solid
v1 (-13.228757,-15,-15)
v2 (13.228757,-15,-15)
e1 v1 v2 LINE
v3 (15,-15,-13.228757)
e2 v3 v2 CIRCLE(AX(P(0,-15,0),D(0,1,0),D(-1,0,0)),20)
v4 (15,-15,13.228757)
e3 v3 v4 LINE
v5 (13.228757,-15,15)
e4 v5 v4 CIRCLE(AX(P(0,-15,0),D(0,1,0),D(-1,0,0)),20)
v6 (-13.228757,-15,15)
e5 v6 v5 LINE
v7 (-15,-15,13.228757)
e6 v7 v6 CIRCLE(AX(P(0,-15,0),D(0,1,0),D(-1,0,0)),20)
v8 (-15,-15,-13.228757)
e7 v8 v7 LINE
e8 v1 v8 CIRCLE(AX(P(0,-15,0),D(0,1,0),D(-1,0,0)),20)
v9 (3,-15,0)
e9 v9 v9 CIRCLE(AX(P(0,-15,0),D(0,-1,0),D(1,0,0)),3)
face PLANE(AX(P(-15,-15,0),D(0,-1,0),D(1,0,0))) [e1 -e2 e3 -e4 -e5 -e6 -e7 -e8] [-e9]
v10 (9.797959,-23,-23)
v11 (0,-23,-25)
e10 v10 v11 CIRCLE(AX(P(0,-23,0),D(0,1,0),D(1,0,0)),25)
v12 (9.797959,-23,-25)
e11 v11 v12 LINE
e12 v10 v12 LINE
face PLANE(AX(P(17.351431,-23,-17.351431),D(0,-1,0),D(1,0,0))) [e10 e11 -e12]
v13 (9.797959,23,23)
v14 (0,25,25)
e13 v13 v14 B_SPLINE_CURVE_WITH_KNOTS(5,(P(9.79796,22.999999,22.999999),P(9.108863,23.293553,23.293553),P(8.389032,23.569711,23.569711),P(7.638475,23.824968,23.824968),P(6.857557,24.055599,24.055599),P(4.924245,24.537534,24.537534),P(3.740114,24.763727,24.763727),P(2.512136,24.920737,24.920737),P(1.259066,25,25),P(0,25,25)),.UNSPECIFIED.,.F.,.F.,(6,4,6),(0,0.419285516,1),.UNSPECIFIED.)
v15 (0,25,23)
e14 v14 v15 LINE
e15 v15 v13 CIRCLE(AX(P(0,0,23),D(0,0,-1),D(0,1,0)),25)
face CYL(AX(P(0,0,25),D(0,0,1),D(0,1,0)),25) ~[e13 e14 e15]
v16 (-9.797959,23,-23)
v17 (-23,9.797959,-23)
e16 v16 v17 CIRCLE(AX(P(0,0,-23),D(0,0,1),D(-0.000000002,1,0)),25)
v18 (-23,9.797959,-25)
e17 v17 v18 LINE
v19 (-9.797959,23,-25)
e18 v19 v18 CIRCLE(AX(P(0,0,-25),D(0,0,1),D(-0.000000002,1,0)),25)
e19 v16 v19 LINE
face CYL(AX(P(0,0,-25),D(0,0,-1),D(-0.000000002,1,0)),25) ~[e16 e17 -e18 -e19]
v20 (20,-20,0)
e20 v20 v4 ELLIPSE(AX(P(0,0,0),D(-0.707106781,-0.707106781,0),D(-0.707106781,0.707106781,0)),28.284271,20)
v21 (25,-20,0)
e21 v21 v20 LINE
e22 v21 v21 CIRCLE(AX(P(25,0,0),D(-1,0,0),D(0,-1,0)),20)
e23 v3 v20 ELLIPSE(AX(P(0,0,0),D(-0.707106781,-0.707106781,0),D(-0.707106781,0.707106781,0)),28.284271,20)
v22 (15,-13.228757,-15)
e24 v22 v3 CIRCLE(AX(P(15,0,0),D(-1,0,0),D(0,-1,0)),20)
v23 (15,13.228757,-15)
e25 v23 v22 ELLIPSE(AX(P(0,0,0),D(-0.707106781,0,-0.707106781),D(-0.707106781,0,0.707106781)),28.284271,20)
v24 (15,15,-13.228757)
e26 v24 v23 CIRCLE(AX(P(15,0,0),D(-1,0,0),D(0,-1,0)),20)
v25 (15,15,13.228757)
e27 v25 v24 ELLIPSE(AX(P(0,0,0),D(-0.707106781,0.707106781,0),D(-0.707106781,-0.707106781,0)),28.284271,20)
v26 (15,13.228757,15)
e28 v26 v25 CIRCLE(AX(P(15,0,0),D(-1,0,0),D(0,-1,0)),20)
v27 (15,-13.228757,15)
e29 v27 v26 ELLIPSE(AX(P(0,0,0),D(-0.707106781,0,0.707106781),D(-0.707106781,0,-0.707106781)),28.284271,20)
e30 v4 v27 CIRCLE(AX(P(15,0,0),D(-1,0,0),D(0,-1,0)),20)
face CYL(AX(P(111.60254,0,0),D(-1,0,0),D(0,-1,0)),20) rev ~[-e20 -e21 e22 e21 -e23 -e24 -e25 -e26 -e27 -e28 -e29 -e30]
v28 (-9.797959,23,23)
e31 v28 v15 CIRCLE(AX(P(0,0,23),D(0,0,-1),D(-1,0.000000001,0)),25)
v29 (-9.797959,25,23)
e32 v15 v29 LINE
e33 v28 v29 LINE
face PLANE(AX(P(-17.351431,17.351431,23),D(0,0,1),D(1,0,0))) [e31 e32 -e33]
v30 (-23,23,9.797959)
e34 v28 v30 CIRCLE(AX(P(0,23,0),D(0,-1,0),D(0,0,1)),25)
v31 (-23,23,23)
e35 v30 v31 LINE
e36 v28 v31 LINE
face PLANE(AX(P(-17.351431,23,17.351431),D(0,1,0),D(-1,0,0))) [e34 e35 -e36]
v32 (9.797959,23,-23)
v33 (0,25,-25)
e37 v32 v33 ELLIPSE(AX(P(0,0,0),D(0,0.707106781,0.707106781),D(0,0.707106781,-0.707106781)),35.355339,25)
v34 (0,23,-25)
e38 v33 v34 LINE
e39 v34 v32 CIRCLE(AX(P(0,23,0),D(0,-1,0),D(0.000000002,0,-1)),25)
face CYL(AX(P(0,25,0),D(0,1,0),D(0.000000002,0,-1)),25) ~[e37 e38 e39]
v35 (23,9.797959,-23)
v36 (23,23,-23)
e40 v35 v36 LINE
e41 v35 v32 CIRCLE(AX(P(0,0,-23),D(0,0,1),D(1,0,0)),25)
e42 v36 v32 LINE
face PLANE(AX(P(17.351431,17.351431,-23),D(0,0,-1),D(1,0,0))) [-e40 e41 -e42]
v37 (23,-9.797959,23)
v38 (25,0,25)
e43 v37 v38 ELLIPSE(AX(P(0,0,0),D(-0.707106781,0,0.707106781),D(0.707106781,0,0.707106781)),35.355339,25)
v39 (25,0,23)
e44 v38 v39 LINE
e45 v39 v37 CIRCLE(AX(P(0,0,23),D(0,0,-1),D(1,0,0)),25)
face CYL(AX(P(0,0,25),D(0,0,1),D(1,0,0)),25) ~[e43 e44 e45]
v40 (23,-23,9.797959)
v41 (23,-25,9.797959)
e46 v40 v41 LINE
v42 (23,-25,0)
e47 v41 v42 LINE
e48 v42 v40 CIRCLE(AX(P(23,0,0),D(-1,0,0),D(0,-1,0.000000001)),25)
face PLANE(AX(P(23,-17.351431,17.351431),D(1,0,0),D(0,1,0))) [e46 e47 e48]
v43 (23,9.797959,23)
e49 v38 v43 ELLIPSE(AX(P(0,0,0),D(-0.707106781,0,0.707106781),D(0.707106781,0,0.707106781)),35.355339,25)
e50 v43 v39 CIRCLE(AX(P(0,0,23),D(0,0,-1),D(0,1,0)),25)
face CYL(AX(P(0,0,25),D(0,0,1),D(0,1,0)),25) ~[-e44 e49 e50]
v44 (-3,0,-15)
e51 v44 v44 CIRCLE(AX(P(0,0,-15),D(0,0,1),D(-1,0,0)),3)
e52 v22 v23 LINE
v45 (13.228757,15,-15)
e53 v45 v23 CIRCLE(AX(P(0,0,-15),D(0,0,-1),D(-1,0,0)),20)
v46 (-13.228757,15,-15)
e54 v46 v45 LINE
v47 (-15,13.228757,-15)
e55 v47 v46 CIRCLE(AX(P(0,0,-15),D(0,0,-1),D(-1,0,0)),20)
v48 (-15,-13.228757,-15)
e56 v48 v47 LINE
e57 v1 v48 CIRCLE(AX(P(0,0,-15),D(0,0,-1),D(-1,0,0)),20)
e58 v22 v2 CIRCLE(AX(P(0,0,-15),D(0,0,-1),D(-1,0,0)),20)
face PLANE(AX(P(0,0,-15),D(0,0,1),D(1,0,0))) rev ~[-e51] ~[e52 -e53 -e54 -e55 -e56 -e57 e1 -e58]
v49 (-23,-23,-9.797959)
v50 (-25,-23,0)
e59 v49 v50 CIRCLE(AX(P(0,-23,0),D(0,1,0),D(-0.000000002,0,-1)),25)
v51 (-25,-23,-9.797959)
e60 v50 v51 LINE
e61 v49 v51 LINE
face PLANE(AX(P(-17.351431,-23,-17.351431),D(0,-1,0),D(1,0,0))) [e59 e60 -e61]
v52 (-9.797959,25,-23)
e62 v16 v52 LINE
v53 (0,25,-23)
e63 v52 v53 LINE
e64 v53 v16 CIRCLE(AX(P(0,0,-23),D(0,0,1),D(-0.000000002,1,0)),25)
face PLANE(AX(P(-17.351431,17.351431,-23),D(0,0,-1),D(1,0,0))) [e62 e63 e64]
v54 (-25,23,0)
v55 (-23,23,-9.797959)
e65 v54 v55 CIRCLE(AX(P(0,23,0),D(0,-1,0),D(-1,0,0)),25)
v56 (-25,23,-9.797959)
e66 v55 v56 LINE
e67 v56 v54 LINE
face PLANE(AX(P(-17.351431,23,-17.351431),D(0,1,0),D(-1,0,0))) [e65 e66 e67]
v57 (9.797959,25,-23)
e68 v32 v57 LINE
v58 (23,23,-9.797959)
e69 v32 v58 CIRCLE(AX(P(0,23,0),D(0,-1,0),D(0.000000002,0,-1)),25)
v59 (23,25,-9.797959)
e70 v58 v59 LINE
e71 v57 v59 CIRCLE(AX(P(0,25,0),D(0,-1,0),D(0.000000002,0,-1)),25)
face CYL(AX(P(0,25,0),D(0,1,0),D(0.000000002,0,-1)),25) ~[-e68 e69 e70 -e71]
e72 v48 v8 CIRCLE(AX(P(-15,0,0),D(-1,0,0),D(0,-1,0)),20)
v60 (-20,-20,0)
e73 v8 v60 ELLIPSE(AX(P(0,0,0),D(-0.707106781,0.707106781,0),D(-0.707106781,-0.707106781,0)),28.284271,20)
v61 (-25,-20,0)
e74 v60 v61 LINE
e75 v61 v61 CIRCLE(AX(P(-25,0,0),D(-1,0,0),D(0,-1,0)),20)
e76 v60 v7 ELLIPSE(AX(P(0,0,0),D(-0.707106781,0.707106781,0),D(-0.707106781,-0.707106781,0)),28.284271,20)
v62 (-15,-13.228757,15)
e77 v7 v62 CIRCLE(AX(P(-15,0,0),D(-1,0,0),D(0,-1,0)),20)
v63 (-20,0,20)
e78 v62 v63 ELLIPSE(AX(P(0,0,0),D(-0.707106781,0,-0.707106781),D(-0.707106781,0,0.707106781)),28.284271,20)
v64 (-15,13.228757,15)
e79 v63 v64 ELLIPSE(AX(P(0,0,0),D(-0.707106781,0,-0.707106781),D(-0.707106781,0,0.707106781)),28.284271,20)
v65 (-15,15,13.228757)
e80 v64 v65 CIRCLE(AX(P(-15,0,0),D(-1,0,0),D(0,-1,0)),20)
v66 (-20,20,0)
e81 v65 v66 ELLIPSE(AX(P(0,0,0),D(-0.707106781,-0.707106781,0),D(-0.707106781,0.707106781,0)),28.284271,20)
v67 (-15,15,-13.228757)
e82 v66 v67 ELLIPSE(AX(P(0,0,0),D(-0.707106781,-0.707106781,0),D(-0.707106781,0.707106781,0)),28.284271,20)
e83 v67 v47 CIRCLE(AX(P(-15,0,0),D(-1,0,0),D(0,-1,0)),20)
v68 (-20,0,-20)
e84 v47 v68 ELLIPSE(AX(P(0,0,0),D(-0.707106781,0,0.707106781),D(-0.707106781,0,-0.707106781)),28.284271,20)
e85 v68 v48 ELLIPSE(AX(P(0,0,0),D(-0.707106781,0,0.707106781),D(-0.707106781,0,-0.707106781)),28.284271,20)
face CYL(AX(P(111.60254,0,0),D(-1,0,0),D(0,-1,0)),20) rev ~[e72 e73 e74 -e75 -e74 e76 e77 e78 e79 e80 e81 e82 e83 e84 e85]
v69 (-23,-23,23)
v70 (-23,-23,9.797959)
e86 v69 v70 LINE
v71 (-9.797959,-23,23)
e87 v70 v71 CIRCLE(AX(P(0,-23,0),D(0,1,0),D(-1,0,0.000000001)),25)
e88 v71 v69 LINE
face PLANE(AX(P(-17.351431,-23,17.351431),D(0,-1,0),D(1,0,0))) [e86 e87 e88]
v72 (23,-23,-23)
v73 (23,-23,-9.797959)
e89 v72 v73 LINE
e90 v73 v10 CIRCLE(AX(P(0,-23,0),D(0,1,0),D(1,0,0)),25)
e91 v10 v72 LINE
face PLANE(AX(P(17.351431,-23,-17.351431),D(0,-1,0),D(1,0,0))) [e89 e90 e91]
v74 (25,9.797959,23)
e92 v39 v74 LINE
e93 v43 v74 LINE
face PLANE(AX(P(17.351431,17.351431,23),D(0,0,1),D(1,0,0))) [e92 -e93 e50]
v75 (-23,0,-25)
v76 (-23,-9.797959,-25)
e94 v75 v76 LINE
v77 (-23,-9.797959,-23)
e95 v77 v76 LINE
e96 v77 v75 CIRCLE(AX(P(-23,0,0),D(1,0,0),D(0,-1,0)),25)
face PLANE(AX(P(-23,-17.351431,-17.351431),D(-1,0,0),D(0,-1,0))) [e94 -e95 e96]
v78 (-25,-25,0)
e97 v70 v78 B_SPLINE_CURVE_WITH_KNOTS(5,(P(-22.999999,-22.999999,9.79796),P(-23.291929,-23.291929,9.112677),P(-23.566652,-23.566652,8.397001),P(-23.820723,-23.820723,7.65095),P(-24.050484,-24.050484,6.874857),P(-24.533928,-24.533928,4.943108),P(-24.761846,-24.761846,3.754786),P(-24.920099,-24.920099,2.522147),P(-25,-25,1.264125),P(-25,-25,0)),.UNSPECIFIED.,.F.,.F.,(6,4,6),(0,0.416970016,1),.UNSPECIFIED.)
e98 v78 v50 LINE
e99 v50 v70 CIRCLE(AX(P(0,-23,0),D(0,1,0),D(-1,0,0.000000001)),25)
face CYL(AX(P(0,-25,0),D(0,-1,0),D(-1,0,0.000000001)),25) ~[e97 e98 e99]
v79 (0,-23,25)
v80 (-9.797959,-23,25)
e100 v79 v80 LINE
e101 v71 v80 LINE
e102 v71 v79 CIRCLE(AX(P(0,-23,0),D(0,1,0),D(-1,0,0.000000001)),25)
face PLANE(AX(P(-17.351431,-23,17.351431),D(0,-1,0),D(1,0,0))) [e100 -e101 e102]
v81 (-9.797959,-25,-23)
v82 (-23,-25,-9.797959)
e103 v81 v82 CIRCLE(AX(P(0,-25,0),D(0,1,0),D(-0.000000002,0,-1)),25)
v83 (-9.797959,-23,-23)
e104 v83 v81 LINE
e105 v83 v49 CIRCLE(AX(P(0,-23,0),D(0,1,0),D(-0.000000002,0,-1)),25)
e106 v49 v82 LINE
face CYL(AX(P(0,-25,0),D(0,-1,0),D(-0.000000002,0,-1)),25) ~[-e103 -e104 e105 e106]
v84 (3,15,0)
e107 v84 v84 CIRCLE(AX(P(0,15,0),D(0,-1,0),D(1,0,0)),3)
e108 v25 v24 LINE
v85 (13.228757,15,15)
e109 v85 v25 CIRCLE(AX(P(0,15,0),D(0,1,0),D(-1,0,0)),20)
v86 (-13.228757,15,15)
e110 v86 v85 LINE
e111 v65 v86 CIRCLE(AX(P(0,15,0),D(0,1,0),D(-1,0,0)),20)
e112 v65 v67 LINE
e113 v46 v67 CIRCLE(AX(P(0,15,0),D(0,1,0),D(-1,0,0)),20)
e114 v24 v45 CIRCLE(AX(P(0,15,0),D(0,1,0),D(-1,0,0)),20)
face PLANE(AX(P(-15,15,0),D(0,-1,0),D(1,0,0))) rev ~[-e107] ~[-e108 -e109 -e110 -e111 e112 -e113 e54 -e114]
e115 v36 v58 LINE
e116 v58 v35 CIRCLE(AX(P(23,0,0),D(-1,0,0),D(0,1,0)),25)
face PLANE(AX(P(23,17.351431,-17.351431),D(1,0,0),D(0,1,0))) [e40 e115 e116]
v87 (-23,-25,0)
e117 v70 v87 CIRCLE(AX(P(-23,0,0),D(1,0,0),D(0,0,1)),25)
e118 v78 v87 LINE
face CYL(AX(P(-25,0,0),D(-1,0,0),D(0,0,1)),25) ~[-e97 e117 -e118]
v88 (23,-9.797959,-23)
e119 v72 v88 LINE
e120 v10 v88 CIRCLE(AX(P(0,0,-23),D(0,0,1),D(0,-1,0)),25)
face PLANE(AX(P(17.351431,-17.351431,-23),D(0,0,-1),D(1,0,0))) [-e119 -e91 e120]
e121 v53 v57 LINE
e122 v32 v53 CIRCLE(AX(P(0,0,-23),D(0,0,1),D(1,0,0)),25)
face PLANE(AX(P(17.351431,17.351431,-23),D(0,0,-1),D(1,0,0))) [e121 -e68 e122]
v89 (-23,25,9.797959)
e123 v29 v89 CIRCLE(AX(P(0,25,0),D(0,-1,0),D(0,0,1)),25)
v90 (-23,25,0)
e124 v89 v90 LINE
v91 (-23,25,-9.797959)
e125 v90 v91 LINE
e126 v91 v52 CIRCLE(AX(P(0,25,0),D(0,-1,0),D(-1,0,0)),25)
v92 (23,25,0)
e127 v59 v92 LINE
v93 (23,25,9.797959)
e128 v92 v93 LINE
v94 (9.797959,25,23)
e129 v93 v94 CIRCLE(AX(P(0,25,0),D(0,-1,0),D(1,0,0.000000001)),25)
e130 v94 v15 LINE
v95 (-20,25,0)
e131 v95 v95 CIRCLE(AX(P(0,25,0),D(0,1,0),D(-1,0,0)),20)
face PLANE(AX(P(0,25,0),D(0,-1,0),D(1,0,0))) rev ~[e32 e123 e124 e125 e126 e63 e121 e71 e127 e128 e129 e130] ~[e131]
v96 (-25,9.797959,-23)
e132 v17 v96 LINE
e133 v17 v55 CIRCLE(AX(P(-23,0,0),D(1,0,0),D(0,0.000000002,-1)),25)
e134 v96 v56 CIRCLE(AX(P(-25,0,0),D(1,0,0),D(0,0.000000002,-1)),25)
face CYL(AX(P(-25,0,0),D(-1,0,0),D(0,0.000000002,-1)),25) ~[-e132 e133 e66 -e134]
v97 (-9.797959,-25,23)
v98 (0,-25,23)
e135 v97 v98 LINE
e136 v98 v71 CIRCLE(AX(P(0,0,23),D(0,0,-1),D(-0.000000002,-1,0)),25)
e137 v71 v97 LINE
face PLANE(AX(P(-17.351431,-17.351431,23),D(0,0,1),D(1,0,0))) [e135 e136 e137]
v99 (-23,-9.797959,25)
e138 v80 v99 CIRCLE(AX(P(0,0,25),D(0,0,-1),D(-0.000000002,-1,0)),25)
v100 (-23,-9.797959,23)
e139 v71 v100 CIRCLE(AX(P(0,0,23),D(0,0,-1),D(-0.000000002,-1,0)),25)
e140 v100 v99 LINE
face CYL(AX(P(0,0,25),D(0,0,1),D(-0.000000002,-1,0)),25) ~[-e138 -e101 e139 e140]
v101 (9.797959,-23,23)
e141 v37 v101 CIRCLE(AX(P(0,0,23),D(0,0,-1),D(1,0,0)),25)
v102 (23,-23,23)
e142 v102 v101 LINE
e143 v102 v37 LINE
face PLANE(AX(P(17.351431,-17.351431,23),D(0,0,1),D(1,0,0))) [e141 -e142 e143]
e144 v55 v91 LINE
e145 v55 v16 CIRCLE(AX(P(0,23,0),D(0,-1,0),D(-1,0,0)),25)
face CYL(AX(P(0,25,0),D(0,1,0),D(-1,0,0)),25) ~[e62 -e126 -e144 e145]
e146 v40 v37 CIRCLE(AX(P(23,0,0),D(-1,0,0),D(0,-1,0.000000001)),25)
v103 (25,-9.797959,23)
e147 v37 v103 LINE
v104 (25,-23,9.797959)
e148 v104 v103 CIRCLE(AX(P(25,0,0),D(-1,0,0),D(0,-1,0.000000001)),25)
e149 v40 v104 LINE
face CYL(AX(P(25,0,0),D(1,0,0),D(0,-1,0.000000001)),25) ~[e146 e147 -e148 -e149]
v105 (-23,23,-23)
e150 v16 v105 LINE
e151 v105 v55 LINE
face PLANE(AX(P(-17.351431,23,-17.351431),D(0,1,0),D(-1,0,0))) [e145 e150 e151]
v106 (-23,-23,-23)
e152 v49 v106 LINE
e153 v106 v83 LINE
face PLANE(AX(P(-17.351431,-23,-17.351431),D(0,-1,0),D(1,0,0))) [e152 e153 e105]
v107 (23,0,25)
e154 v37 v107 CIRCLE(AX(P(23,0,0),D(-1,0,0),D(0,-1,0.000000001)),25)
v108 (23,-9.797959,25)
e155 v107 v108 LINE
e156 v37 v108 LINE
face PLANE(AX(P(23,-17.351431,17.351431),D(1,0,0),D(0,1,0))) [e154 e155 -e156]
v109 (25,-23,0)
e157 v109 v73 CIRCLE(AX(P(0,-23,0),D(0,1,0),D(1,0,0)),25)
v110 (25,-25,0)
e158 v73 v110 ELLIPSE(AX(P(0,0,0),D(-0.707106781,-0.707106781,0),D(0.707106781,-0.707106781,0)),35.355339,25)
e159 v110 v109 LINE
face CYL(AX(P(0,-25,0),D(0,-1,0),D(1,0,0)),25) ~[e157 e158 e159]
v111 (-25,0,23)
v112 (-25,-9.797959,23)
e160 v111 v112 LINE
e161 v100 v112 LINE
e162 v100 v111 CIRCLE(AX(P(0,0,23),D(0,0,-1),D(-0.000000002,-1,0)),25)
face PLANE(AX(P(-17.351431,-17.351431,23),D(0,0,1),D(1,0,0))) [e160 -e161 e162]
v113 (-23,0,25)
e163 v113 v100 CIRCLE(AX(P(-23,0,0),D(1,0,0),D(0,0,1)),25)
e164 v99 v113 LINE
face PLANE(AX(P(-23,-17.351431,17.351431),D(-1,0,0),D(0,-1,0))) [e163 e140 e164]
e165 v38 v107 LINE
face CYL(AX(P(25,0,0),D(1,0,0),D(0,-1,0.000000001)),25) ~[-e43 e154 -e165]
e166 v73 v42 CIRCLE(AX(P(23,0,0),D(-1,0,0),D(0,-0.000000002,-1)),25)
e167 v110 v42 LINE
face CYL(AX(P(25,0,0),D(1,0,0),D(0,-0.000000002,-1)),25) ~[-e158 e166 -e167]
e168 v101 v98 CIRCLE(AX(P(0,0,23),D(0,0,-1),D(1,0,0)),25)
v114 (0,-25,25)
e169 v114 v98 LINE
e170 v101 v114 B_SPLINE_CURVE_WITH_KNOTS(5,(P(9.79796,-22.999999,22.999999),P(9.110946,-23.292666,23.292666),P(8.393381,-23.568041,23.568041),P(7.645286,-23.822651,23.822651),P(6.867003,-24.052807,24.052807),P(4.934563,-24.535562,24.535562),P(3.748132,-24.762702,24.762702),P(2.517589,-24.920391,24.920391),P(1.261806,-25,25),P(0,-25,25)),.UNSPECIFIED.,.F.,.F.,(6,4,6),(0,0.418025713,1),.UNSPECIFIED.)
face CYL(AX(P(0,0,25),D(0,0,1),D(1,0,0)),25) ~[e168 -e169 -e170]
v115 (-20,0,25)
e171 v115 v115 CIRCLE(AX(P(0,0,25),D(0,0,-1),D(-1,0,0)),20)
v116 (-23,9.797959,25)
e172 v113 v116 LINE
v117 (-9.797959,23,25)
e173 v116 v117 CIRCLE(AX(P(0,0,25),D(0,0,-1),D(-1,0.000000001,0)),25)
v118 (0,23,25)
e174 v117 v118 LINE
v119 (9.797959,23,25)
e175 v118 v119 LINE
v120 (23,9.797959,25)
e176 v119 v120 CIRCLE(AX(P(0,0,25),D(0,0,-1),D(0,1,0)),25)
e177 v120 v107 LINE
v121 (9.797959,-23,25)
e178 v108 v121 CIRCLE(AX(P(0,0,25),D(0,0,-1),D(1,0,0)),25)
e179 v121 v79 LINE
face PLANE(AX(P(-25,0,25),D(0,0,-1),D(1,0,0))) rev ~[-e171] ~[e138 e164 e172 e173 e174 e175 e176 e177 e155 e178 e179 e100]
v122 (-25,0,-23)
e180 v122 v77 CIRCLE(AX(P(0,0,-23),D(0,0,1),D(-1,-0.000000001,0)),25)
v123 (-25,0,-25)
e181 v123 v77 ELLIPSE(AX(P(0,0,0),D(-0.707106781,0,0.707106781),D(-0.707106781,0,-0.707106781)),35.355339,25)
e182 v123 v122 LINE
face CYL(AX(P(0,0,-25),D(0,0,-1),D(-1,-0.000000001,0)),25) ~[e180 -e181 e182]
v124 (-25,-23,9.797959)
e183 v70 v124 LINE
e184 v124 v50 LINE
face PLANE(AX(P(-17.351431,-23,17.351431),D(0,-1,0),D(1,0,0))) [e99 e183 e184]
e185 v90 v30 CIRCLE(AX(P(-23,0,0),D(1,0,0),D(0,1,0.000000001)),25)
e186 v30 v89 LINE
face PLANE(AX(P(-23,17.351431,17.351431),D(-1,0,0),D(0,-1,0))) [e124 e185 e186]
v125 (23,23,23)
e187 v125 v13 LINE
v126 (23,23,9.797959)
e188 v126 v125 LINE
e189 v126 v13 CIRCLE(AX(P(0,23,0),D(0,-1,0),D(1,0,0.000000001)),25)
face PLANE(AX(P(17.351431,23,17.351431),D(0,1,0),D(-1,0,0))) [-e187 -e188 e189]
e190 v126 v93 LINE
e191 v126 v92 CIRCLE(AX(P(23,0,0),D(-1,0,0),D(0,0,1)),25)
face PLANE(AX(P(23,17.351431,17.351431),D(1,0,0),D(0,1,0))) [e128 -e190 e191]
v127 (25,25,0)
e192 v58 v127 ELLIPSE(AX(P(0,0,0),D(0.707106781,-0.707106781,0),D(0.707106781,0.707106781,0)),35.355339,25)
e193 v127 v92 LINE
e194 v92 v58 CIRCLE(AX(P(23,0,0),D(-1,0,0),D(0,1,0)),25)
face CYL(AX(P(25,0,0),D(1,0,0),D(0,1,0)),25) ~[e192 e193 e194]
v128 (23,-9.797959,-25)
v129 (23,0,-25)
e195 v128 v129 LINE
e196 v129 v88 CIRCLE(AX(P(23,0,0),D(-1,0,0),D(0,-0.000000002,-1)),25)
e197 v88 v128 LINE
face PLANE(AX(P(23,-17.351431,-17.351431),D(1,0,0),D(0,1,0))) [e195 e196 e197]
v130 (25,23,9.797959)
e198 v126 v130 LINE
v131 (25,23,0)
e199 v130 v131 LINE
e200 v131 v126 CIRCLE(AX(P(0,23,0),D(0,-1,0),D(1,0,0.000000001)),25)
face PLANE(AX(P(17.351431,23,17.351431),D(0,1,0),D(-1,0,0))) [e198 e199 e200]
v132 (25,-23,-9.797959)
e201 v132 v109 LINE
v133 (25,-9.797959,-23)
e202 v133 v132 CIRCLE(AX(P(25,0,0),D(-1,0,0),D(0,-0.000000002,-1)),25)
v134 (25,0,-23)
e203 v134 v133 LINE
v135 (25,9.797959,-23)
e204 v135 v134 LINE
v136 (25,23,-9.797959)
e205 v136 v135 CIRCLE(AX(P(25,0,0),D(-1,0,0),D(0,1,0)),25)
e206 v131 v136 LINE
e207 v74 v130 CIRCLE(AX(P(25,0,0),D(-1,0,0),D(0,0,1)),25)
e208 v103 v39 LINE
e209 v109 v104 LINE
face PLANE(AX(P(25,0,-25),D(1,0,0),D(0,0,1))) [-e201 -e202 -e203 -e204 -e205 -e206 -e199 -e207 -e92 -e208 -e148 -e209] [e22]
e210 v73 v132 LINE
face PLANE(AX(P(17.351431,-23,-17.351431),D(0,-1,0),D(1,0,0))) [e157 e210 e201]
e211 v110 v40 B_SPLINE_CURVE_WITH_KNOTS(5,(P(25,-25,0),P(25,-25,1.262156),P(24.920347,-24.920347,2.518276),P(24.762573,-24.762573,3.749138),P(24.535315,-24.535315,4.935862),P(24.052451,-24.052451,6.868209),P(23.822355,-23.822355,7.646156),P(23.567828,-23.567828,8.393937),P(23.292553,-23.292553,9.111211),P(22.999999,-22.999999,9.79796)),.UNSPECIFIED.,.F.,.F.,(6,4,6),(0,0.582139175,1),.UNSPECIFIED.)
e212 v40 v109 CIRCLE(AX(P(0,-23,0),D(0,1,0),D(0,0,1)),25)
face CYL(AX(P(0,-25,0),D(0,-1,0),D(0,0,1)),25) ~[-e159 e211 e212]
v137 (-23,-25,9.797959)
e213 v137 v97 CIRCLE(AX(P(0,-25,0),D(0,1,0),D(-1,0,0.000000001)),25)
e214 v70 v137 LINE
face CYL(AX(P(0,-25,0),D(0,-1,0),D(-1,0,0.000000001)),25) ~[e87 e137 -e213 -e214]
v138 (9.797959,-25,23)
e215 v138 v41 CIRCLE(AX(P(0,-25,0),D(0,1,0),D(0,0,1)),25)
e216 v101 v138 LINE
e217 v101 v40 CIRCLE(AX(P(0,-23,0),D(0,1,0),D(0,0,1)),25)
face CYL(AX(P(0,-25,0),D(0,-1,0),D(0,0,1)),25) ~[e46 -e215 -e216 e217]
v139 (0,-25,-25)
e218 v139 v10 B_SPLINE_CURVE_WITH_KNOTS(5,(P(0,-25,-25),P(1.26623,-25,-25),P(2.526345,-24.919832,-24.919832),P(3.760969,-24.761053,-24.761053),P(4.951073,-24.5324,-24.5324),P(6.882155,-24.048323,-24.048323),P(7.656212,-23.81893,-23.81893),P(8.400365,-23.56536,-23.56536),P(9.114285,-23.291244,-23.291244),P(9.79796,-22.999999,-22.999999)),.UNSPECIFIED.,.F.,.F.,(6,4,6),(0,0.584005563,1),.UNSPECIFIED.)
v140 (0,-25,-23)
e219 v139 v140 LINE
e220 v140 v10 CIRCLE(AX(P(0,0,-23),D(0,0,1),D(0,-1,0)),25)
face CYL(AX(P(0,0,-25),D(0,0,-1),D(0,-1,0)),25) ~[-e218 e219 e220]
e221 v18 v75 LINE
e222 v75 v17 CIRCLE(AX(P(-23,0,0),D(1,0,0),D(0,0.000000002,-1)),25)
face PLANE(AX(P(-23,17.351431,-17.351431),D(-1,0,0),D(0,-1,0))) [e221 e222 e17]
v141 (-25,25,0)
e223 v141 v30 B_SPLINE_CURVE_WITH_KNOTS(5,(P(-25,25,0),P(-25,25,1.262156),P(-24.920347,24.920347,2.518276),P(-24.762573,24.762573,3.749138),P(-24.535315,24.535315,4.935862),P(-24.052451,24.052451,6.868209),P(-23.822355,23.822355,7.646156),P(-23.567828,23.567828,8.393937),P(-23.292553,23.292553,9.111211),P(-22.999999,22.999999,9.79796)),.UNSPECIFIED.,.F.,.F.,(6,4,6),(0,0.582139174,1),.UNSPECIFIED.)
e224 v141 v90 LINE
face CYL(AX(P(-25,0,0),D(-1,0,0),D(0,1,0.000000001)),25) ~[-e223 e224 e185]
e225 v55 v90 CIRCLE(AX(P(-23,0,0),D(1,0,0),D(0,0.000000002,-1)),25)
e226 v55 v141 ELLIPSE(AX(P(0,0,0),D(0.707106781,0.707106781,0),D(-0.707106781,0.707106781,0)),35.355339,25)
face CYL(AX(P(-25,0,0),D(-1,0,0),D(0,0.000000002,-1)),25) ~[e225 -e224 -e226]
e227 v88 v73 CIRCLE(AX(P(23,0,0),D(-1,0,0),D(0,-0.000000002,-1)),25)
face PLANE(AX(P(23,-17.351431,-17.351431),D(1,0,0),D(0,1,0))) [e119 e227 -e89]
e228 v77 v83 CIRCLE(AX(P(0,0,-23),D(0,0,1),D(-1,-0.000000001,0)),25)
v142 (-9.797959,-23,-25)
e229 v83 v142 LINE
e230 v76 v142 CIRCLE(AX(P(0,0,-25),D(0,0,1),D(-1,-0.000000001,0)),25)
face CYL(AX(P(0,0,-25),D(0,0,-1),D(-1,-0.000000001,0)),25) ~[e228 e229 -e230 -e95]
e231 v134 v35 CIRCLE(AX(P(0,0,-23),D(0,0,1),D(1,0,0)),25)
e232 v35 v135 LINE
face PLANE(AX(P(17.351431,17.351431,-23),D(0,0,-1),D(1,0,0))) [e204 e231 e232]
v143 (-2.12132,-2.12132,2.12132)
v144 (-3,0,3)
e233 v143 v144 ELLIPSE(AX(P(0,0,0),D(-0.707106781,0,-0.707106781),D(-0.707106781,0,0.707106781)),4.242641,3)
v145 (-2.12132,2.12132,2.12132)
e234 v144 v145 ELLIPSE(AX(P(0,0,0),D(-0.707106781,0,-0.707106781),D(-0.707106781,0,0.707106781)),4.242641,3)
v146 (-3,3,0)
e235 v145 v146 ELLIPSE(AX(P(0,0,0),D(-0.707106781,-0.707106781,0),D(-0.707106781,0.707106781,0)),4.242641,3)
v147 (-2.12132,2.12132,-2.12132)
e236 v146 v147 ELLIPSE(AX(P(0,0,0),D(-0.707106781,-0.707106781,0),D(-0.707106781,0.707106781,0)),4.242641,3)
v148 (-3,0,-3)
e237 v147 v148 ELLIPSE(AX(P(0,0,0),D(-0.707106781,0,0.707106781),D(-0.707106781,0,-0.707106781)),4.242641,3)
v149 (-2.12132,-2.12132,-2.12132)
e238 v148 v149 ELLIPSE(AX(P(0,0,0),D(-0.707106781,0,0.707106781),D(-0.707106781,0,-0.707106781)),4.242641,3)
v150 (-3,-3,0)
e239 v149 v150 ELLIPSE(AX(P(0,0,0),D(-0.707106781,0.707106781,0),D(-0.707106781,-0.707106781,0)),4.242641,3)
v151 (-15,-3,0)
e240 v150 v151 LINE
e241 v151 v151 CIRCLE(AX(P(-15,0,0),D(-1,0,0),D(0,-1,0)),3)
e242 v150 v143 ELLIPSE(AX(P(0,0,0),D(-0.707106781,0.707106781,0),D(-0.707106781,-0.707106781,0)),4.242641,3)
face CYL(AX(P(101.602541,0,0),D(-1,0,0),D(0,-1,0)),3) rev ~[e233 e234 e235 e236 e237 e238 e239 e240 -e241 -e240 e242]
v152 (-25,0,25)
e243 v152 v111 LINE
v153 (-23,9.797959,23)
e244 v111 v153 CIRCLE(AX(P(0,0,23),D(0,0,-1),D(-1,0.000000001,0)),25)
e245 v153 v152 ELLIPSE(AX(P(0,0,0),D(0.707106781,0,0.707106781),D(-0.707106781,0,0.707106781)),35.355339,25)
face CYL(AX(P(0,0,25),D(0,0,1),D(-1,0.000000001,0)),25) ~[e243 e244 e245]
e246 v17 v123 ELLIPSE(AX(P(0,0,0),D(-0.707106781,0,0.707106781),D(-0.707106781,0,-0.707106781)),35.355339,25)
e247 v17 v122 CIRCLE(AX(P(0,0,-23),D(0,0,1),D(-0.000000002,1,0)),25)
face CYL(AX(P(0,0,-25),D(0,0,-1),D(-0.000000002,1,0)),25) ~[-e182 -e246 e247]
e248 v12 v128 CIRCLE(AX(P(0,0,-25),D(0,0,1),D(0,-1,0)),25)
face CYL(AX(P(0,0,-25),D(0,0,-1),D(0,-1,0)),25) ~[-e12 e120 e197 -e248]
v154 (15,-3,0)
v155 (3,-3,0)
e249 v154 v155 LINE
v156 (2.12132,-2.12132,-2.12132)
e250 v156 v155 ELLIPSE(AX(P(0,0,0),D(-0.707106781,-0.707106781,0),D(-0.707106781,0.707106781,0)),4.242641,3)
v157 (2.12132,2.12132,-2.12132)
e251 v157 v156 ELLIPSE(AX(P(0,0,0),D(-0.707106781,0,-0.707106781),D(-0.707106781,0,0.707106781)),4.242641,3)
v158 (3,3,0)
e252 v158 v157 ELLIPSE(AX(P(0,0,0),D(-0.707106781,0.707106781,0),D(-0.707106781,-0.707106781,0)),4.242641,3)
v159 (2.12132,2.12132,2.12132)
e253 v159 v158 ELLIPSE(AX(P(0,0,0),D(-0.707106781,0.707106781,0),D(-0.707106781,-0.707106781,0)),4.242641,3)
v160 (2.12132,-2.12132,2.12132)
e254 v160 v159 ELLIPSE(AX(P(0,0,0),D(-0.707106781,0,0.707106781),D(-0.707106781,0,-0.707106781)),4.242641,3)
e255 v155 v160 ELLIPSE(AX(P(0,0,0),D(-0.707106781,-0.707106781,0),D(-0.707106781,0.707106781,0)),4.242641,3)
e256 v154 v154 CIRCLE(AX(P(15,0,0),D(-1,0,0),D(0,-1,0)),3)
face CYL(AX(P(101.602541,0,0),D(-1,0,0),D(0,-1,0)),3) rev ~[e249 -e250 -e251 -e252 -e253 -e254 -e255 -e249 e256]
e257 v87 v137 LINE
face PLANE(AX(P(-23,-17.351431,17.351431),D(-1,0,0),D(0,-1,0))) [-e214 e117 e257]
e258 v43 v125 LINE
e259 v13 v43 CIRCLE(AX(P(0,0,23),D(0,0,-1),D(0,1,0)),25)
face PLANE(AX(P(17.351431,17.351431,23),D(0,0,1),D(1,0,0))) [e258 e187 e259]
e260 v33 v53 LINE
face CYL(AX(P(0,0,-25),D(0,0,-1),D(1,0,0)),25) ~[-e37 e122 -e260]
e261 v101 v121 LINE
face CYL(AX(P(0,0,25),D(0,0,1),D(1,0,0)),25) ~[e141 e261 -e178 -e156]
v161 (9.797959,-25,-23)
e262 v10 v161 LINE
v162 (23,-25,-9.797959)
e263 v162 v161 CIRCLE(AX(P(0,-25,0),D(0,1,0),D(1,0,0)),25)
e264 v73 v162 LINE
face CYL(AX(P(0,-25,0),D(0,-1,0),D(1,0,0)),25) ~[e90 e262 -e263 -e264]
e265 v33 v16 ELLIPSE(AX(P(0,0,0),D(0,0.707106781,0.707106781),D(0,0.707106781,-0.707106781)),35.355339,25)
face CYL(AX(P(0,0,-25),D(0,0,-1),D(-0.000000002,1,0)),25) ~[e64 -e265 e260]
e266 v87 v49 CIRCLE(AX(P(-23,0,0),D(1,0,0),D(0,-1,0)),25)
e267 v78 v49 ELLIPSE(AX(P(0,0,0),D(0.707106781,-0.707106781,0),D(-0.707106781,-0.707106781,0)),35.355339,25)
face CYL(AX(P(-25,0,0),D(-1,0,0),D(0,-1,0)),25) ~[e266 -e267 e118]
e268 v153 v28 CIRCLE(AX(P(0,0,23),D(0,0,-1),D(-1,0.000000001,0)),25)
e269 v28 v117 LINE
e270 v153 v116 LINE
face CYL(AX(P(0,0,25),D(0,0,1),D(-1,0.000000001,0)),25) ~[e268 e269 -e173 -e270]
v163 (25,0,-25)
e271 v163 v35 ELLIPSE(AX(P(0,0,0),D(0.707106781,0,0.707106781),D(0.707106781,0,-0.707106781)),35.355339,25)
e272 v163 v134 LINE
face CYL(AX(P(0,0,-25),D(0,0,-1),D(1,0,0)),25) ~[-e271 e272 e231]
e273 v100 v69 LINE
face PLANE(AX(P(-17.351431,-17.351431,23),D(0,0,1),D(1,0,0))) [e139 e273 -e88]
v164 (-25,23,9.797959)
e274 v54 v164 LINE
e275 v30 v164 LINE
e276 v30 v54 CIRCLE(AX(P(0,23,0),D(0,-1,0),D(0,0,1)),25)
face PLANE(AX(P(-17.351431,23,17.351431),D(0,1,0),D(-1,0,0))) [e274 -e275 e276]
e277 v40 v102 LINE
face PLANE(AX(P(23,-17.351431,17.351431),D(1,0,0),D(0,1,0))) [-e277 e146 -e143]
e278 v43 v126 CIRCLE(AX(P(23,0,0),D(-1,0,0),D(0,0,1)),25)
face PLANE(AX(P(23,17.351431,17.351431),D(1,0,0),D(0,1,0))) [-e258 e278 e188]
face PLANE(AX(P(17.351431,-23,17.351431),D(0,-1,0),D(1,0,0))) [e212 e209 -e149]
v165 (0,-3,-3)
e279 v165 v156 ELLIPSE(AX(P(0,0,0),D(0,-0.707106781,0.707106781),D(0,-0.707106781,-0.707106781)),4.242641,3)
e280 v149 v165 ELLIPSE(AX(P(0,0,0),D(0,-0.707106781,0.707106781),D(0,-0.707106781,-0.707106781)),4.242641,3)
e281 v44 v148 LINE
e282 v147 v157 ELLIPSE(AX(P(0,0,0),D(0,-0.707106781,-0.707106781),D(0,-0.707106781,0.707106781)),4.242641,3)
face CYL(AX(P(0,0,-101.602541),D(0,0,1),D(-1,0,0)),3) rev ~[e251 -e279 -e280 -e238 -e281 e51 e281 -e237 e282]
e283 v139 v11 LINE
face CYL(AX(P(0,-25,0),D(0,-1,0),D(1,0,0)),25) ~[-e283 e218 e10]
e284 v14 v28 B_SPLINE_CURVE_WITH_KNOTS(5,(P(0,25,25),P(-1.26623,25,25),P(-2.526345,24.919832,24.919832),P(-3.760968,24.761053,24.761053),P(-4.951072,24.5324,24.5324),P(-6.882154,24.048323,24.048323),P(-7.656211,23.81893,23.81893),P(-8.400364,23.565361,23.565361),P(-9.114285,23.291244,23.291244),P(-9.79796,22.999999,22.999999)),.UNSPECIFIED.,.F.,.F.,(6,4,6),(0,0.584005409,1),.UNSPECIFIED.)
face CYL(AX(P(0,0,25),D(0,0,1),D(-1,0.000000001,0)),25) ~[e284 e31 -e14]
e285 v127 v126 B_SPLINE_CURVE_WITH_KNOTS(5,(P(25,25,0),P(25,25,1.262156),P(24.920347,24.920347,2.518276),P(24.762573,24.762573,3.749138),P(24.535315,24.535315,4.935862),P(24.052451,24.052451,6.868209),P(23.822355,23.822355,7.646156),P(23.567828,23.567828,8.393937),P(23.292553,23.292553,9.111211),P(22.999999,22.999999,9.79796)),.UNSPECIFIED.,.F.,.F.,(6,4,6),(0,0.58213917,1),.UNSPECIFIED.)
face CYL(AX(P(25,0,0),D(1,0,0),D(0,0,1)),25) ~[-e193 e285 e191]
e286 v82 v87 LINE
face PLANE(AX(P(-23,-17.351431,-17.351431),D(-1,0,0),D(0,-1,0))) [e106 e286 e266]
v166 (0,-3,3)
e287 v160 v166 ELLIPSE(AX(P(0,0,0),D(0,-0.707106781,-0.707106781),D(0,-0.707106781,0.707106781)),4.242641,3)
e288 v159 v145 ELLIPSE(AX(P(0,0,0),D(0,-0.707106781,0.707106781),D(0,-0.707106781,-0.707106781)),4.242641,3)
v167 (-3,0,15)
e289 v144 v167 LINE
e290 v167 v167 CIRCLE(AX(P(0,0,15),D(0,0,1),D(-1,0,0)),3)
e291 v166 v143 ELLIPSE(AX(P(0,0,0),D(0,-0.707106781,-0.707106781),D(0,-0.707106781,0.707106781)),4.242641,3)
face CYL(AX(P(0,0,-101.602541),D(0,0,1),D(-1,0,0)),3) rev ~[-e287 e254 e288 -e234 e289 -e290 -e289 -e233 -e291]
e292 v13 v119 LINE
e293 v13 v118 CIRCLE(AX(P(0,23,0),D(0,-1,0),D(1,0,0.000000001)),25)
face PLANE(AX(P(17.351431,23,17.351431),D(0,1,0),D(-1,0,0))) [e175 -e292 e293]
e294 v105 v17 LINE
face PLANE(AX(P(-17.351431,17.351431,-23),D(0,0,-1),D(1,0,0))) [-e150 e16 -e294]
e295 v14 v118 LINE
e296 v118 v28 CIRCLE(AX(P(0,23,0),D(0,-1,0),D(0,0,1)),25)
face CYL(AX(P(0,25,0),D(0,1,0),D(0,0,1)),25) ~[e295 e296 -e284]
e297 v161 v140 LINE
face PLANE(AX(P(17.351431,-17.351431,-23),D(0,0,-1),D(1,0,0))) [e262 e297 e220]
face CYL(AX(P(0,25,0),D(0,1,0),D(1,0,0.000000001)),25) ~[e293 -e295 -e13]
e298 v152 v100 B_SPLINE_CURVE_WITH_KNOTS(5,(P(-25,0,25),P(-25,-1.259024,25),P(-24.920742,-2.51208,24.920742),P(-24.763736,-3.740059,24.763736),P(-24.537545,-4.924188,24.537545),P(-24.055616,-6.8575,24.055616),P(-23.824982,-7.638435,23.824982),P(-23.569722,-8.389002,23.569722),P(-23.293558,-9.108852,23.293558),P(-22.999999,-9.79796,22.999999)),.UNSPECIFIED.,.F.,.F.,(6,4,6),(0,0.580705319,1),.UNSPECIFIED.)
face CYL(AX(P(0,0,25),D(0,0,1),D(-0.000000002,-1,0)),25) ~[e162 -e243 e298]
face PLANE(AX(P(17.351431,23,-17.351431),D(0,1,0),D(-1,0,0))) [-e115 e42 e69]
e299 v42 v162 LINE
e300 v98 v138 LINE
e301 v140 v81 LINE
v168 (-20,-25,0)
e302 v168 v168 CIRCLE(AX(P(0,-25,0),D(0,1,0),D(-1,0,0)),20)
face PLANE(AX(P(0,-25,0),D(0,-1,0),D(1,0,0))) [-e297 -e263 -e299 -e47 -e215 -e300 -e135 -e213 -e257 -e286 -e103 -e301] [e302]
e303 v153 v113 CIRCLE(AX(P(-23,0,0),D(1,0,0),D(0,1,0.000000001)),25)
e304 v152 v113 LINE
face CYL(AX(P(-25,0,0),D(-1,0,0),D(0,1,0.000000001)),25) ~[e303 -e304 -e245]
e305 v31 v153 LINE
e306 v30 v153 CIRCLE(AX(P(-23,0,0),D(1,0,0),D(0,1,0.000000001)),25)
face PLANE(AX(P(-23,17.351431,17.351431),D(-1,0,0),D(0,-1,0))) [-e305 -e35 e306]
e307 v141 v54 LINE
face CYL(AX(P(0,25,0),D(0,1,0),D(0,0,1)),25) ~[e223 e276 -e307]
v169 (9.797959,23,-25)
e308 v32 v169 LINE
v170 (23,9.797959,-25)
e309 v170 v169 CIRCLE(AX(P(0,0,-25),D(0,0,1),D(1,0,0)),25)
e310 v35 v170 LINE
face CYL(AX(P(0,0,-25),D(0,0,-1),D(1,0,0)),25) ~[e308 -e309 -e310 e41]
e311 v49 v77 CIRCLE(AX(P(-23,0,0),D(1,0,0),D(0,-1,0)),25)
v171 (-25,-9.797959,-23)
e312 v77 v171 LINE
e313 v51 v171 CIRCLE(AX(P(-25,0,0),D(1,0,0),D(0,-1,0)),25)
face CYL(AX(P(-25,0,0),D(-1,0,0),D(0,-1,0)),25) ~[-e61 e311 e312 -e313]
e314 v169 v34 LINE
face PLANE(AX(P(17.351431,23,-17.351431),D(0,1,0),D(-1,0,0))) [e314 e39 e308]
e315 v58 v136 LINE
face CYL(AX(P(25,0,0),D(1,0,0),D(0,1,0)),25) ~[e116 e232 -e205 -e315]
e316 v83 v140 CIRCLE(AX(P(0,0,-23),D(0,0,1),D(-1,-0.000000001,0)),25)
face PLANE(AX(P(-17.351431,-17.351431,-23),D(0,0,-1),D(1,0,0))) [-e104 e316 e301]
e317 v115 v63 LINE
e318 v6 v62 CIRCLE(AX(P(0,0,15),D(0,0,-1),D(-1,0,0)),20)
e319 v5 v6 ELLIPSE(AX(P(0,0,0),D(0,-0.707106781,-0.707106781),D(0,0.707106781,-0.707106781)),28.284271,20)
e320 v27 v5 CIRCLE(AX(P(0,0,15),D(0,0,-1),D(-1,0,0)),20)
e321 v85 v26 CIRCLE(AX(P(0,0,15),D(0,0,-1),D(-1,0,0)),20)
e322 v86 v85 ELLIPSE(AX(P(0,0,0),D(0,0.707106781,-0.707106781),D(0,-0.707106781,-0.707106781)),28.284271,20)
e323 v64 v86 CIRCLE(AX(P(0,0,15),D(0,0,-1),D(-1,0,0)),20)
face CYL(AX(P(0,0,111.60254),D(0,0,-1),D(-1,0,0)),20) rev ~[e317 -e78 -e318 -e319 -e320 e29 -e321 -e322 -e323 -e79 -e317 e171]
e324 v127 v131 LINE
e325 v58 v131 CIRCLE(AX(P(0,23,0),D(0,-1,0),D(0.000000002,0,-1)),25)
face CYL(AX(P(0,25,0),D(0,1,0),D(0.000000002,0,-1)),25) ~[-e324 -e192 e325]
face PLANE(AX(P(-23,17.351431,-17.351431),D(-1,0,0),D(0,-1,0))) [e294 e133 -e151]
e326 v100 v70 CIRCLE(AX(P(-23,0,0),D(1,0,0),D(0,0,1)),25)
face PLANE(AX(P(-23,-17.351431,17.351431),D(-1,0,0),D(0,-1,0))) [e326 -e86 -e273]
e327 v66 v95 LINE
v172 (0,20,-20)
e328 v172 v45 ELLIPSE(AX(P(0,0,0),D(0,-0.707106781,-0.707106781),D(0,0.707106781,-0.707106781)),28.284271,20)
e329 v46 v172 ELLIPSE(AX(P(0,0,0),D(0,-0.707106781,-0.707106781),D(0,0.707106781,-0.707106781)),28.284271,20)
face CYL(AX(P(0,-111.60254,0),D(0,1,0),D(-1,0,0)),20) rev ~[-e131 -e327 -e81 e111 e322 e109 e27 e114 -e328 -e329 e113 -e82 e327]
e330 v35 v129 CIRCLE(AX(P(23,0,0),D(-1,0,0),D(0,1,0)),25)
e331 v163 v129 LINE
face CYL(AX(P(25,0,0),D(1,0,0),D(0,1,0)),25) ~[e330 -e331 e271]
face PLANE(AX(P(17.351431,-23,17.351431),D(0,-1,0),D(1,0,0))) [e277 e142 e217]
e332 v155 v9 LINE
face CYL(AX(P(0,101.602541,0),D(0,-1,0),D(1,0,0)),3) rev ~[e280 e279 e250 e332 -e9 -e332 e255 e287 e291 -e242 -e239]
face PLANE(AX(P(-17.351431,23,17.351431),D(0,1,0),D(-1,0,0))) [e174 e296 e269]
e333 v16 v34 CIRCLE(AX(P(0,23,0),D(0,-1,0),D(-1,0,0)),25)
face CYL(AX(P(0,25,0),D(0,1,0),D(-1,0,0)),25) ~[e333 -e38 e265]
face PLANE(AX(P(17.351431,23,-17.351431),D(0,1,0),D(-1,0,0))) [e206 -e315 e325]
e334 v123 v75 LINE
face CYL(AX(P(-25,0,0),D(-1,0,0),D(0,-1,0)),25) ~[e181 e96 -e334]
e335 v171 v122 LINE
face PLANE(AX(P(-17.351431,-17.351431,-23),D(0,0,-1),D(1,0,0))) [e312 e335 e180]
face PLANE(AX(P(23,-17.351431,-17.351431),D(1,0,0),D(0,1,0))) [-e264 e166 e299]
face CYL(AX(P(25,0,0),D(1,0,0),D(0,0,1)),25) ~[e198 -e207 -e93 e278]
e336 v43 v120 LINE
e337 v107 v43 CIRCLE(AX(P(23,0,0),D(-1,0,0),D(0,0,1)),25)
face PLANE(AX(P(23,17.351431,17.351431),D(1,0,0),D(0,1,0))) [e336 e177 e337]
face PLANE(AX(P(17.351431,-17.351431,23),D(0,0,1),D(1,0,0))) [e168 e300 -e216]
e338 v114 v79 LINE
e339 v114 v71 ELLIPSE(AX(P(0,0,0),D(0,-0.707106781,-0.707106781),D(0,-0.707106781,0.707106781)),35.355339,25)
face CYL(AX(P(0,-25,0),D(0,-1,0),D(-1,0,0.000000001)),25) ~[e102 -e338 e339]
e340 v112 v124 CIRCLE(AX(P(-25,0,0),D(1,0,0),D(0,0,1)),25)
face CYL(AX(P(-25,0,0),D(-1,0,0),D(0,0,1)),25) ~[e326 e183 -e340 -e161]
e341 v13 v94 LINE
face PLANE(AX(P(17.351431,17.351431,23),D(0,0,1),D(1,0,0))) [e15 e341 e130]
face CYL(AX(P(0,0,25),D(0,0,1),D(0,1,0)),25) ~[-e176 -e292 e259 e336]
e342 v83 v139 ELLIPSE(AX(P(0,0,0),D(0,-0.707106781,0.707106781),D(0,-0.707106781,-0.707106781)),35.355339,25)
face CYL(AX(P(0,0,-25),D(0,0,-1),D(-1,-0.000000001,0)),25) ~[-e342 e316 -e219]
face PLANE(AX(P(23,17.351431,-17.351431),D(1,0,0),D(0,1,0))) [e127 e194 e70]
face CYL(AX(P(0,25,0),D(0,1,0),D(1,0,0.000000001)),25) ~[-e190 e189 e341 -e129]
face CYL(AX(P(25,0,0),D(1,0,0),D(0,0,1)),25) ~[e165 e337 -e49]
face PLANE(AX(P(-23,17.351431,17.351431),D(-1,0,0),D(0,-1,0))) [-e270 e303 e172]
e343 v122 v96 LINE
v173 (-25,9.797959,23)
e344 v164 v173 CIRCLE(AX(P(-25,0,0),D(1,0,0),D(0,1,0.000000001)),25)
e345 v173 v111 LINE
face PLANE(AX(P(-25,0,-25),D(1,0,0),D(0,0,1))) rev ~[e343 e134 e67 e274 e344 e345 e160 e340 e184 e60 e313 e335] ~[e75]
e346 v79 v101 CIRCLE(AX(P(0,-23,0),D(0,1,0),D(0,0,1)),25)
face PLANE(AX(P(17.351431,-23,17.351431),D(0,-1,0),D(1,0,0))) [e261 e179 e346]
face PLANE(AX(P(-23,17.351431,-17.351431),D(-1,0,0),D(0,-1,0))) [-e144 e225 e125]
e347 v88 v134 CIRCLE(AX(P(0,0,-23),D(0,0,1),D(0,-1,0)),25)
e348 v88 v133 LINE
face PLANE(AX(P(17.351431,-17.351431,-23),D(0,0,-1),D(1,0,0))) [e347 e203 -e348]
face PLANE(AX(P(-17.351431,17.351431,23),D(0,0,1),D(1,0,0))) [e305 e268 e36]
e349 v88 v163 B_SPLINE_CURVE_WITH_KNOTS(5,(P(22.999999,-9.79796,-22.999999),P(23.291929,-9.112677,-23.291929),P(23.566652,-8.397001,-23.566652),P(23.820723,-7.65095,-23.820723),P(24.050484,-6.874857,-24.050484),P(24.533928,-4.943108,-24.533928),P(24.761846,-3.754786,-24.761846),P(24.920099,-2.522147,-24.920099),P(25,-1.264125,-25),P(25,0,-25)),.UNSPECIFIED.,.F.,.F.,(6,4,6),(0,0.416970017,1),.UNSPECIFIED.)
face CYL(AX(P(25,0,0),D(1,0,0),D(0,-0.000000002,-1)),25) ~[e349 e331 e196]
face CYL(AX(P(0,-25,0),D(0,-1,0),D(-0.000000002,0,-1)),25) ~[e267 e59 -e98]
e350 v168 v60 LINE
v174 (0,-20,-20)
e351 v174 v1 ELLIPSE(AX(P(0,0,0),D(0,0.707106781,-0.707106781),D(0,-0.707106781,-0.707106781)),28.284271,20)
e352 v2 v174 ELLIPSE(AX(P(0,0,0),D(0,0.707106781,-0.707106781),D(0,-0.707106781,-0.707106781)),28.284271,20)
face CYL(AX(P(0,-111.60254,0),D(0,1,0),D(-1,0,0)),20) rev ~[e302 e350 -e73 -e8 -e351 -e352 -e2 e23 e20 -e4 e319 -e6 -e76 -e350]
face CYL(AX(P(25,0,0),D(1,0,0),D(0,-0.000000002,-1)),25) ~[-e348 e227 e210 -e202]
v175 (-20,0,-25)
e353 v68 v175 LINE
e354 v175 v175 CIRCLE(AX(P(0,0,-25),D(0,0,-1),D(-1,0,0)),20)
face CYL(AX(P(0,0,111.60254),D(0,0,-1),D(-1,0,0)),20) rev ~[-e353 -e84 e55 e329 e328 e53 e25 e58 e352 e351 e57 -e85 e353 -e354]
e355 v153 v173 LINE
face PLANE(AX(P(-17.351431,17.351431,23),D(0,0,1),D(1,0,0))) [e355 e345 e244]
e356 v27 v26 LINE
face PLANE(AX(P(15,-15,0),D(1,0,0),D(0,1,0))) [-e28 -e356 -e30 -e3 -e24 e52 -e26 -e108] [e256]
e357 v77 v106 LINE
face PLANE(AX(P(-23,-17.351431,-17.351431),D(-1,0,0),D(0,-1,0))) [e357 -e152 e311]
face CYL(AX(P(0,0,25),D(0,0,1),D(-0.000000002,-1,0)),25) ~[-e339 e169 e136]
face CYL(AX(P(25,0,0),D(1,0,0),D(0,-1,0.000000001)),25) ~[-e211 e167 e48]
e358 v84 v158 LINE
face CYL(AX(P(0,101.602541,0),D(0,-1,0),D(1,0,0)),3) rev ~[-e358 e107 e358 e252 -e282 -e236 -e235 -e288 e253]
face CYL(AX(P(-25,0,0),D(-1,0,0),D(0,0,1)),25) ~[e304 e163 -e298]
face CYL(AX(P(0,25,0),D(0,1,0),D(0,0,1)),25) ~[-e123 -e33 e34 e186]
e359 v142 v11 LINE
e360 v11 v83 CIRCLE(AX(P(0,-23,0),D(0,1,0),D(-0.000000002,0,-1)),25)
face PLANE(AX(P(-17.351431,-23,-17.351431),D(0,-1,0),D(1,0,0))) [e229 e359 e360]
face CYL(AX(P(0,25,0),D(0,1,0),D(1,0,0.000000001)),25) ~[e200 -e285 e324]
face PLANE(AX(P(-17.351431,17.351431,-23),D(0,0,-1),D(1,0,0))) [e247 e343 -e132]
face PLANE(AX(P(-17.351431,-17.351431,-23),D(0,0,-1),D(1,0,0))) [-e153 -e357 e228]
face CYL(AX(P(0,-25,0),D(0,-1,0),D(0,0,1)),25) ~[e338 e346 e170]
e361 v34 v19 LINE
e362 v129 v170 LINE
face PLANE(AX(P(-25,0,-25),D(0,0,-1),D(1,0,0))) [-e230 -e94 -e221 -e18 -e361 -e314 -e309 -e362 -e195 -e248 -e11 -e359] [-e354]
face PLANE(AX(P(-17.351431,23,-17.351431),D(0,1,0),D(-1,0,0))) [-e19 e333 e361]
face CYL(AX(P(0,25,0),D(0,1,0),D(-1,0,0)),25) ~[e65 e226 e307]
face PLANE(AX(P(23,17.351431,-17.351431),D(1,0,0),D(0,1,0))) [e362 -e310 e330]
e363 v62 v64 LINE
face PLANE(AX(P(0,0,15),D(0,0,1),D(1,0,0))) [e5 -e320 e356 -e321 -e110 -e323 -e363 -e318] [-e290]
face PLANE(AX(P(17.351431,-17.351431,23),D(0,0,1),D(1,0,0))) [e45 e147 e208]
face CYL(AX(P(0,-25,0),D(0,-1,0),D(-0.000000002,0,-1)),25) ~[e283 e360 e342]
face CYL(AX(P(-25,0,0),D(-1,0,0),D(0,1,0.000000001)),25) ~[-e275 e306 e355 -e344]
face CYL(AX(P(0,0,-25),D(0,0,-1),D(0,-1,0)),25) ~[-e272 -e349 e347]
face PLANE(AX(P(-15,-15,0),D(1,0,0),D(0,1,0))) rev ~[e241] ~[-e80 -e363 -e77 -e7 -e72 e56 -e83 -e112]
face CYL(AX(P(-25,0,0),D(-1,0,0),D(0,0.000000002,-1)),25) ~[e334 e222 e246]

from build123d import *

# Parameters (mm, degrees)
F0_W          = 50
F0_H          = 50
F1_DEPTH      = 25
F1_DEPTH_BACK = 25
F3_D          = 40
F5_D          = 40
F7_D          = 40
F8_W          = 30
F8_H          = 30
F9_DEPTH      = 15
F9_DEPTH_BACK = 15
F17_DEPTH     = 2
F18_DEPTH     = 2
F19_DEPTH     = 2
F20_DEPTH     = 2
F21_DEPTH     = 2
F22_DEPTH     = 2
F23_DEPTH     = 2
F25_D         = 6
F27_D         = 6
F29_D         = 6


with BuildPart() as f1:
    # F0 (on Front) → F1 (new body, two sides)
    with BuildSketch(Plane.XZ) as f1_sk:
        Rectangle(F0_W, F0_H)
    extrude(amount=F1_DEPTH)
    extrude(f1_sk.sketch, amount=-F1_DEPTH_BACK)

    # F3 (through all)
    with Locations(Plane.YZ.offset(25)):
        with Locations((0, 0)):
            Hole(F3_D / 2)

    # F5 (through all)
    with Locations(Plane.XY.offset(25)):
        with Locations((0, 0)):
            Hole(F5_D / 2)

    # F7 (through all)
    with Locations(Plane.XZ.offset(25)):
        with Locations((0, 0)):
            Hole(F7_D / 2)

    # F8 (on Top) → F9 (join, two sides)
    with BuildSketch(Plane.XY) as f9_sk:
        Rectangle(F8_W, F8_H)
    extrude(amount=F9_DEPTH)
    extrude(f9_sk.sketch, amount=-F9_DEPTH_BACK)

    # F10 (on face) → F17 (cut)
    with BuildSketch(Plane(origin=(0, 25, 0), x_dir=(-1, 0, 0), z_dir=(0, 1, 0))):
        with BuildLine():
            ThreePointArc((0, 25), (17.6776695297, 17.6776695297), (25, 0))
            Line((25, 0), (25, 25))
            Line((25, 25), (0, 25))
        make_face()
        with BuildLine():
            ThreePointArc((-25, 2.61e-08), (-17.6776695204, 17.6776695389), (0, 25))
            Line((0, 25), (-25, 25))
            Line((-25, 25), (-25, 2.61e-08))
        make_face()
        with BuildLine():
            Line((-25, -25), (-5.83e-08, -25))
            ThreePointArc((-5.83e-08, -25), (-17.6776695595, -17.6776694998), (-25, 2.61e-08))
            Line((-25, 2.61e-08), (-25, -25))
        make_face()
        with BuildLine():
            Line((25, -25), (25, 0))
            ThreePointArc((25, 0), (17.677669509, -17.6776695503), (-5.83e-08, -25))
            Line((-5.83e-08, -25), (25, -25))
        make_face()
    extrude(amount=F17_DEPTH, mode=Mode.SUBTRACT)

    # F15 (on face) → F18 (cut)
    with BuildSketch(Plane.XZ.offset(25)):
        with BuildLine():
            ThreePointArc((-25, 2.61e-08), (-17.6776695204, 17.6776695389), (0, 25))
            Line((0, 25), (-25, 25))
            Line((-25, 25), (-25, 2.61e-08))
        make_face()
        with BuildLine():
            Line((-25, -25), (-5.83e-08, -25))
            ThreePointArc((-5.83e-08, -25), (-17.6776695595, -17.6776694998), (-25, 2.61e-08))
            Line((-25, 2.61e-08), (-25, -25))
        make_face()
        with BuildLine():
            Line((25, -25), (25, 0))
            ThreePointArc((25, 0), (17.677669509, -17.6776695503), (-5.83e-08, -25))
            Line((-5.83e-08, -25), (25, -25))
        make_face()
        with BuildLine():
            ThreePointArc((0, 25), (17.6776695297, 17.6776695297), (25, 0))
            Line((25, 0), (25, 25))
            Line((25, 25), (0, 25))
        make_face()
    extrude(amount=-F18_DEPTH, mode=Mode.SUBTRACT)

    # F12 (on face) → F19 (cut)
    with BuildSketch(Plane.XY.offset(25)):
        with BuildLine():
            Line((-25, -25), (-5.83e-08, -25))
            ThreePointArc((-5.83e-08, -25), (-17.6776695595, -17.6776694998), (-25, 2.61e-08))
            Line((-25, 2.61e-08), (-25, -25))
        make_face()
        with BuildLine():
            ThreePointArc((-25, 2.61e-08), (-17.6776695204, 17.6776695389), (0, 25))
            Line((0, 25), (-25, 25))
            Line((-25, 25), (-25, 2.61e-08))
        make_face()
        with BuildLine():
            ThreePointArc((0, 25), (17.6776695297, 17.6776695297), (25, 0))
            Line((25, 0), (25, 25))
            Line((25, 25), (0, 25))
        make_face()
        with BuildLine():
            Line((25, -25), (25, 0))
            ThreePointArc((25, 0), (17.677669509, -17.6776695503), (-5.83e-08, -25))
            Line((-5.83e-08, -25), (25, -25))
        make_face()
    extrude(amount=-F19_DEPTH, mode=Mode.SUBTRACT)

    # F13 (on face) → F20 (cut)
    with BuildSketch(Plane.YZ.offset(25)):
        with BuildLine():
            ThreePointArc((-25, 2.61e-08), (-17.6776695204, 17.6776695389), (0, 25))
            Line((0, 25), (-25, 25))
            Line((-25, 25), (-25, 2.61e-08))
        make_face()
        with BuildLine():
            ThreePointArc((0, 25), (17.6776695297, 17.6776695297), (25, 0))
            Line((25, 0), (25, 25))
            Line((25, 25), (0, 25))
        make_face()
        with BuildLine():
            Line((25, -25), (25, 0))
            ThreePointArc((25, 0), (17.677669509, -17.6776695503), (-5.83e-08, -25))
            Line((-5.83e-08, -25), (25, -25))
        make_face()
        with BuildLine():
            Line((-25, -25), (-5.83e-08, -25))
            ThreePointArc((-5.83e-08, -25), (-17.6776695595, -17.6776694998), (-25, 2.61e-08))
            Line((-25, 2.61e-08), (-25, -25))
        make_face()
    extrude(amount=-F20_DEPTH, mode=Mode.SUBTRACT)

    # F16 (on face) → F21 (cut)
    with BuildSketch(Plane(origin=(0, 25, 0), x_dir=(-1, 0, 0), z_dir=(0, 1, 0))):
        with BuildLine():
            ThreePointArc((-25, 2.61e-08), (-17.6776695204, 17.6776695389), (0, 25))
            Line((0, 25), (-25, 25))
            Line((-25, 25), (-25, 2.61e-08))
        make_face()
        with BuildLine():
            ThreePointArc((0, 25), (17.6776695297, 17.6776695297), (25, 0))
            Line((25, 0), (25, 25))
            Line((25, 25), (0, 25))
        make_face()
        with BuildLine():
            Line((25, -25), (25, 0))
            ThreePointArc((25, 0), (17.677669509, -17.6776695503), (-5.83e-08, -25))
            Line((-5.83e-08, -25), (25, -25))
        make_face()
        with BuildLine():
            Line((-25, -25), (-5.83e-08, -25))
            ThreePointArc((-5.83e-08, -25), (-17.6776695595, -17.6776694998), (-25, 2.61e-08))
            Line((-25, 2.61e-08), (-25, -25))
        make_face()
    extrude(amount=-F21_DEPTH, mode=Mode.SUBTRACT)

    # F11 (on face) → F22 (cut)
    with BuildSketch(Plane(origin=(-25, 0, 0), x_dir=(0, -1, 0), z_dir=(-1, 0, 0))):
        with BuildLine():
            ThreePointArc((-25, 2.61e-08), (-17.6776695204, 17.6776695389), (0, 25))
            Line((0, 25), (-25, 25))
            Line((-25, 25), (-25, 2.61e-08))
        make_face()
        with BuildLine():
            ThreePointArc((0, 25), (17.6776695297, 17.6776695297), (25, 0))
            Line((25, 0), (25, 25))
            Line((25, 25), (0, 25))
        make_face()
        with BuildLine():
            Line((25, -25), (25, 0))
            ThreePointArc((25, 0), (17.677669509, -17.6776695503), (-5.83e-08, -25))
            Line((-5.83e-08, -25), (25, -25))
        make_face()
        with BuildLine():
            Line((-25, -25), (-5.83e-08, -25))
            ThreePointArc((-5.83e-08, -25), (-17.6776695595, -17.6776694998), (-25, 2.61e-08))
            Line((-25, 2.61e-08), (-25, -25))
        make_face()
    extrude(amount=-F22_DEPTH, mode=Mode.SUBTRACT)

    # F14 (on face) → F23 (cut)
    with BuildSketch(Plane(origin=(0, 0, -25), x_dir=(1, 0, 0), z_dir=(0, 0, -1))):
        with BuildLine():
            ThreePointArc((-25, 2.61e-08), (-17.6776695204, 17.6776695389), (0, 25))
            Line((0, 25), (-25, 25))
            Line((-25, 25), (-25, 2.61e-08))
        make_face()
        with BuildLine():
            Line((-25, -25), (-5.83e-08, -25))
            ThreePointArc((-5.83e-08, -25), (-17.6776695595, -17.6776694998), (-25, 2.61e-08))
            Line((-25, 2.61e-08), (-25, -25))
        make_face()
        with BuildLine():
            Line((25, -25), (25, 0))
            ThreePointArc((25, 0), (17.677669509, -17.6776695503), (-5.83e-08, -25))
            Line((-5.83e-08, -25), (25, -25))
        make_face()
        with BuildLine():
            ThreePointArc((0, 25), (17.6776695297, 17.6776695297), (25, 0))
            Line((25, 0), (25, 25))
            Line((25, 25), (0, 25))
        make_face()
    extrude(amount=-F23_DEPTH, mode=Mode.SUBTRACT)

    # F25 (through all)
    with Locations(Plane.YZ.offset(15)):
        with Locations((0, 0)):
            Hole(F25_D / 2)

    # F27 (through all)
    with Locations(Plane(origin=(0, 15, 0), x_dir=(-1, 0, 0), z_dir=(0, 1, 0))):
        with Locations((0, 0)):
            Hole(F27_D / 2)

    # F29 (through all)
    with Locations(Plane(origin=(0, 0, -15), x_dir=(1, 0, 0), z_dir=(0, 0, -1))):
        with Locations((0, 0)):
            Hole(F29_D / 2)


solid = f1.part
